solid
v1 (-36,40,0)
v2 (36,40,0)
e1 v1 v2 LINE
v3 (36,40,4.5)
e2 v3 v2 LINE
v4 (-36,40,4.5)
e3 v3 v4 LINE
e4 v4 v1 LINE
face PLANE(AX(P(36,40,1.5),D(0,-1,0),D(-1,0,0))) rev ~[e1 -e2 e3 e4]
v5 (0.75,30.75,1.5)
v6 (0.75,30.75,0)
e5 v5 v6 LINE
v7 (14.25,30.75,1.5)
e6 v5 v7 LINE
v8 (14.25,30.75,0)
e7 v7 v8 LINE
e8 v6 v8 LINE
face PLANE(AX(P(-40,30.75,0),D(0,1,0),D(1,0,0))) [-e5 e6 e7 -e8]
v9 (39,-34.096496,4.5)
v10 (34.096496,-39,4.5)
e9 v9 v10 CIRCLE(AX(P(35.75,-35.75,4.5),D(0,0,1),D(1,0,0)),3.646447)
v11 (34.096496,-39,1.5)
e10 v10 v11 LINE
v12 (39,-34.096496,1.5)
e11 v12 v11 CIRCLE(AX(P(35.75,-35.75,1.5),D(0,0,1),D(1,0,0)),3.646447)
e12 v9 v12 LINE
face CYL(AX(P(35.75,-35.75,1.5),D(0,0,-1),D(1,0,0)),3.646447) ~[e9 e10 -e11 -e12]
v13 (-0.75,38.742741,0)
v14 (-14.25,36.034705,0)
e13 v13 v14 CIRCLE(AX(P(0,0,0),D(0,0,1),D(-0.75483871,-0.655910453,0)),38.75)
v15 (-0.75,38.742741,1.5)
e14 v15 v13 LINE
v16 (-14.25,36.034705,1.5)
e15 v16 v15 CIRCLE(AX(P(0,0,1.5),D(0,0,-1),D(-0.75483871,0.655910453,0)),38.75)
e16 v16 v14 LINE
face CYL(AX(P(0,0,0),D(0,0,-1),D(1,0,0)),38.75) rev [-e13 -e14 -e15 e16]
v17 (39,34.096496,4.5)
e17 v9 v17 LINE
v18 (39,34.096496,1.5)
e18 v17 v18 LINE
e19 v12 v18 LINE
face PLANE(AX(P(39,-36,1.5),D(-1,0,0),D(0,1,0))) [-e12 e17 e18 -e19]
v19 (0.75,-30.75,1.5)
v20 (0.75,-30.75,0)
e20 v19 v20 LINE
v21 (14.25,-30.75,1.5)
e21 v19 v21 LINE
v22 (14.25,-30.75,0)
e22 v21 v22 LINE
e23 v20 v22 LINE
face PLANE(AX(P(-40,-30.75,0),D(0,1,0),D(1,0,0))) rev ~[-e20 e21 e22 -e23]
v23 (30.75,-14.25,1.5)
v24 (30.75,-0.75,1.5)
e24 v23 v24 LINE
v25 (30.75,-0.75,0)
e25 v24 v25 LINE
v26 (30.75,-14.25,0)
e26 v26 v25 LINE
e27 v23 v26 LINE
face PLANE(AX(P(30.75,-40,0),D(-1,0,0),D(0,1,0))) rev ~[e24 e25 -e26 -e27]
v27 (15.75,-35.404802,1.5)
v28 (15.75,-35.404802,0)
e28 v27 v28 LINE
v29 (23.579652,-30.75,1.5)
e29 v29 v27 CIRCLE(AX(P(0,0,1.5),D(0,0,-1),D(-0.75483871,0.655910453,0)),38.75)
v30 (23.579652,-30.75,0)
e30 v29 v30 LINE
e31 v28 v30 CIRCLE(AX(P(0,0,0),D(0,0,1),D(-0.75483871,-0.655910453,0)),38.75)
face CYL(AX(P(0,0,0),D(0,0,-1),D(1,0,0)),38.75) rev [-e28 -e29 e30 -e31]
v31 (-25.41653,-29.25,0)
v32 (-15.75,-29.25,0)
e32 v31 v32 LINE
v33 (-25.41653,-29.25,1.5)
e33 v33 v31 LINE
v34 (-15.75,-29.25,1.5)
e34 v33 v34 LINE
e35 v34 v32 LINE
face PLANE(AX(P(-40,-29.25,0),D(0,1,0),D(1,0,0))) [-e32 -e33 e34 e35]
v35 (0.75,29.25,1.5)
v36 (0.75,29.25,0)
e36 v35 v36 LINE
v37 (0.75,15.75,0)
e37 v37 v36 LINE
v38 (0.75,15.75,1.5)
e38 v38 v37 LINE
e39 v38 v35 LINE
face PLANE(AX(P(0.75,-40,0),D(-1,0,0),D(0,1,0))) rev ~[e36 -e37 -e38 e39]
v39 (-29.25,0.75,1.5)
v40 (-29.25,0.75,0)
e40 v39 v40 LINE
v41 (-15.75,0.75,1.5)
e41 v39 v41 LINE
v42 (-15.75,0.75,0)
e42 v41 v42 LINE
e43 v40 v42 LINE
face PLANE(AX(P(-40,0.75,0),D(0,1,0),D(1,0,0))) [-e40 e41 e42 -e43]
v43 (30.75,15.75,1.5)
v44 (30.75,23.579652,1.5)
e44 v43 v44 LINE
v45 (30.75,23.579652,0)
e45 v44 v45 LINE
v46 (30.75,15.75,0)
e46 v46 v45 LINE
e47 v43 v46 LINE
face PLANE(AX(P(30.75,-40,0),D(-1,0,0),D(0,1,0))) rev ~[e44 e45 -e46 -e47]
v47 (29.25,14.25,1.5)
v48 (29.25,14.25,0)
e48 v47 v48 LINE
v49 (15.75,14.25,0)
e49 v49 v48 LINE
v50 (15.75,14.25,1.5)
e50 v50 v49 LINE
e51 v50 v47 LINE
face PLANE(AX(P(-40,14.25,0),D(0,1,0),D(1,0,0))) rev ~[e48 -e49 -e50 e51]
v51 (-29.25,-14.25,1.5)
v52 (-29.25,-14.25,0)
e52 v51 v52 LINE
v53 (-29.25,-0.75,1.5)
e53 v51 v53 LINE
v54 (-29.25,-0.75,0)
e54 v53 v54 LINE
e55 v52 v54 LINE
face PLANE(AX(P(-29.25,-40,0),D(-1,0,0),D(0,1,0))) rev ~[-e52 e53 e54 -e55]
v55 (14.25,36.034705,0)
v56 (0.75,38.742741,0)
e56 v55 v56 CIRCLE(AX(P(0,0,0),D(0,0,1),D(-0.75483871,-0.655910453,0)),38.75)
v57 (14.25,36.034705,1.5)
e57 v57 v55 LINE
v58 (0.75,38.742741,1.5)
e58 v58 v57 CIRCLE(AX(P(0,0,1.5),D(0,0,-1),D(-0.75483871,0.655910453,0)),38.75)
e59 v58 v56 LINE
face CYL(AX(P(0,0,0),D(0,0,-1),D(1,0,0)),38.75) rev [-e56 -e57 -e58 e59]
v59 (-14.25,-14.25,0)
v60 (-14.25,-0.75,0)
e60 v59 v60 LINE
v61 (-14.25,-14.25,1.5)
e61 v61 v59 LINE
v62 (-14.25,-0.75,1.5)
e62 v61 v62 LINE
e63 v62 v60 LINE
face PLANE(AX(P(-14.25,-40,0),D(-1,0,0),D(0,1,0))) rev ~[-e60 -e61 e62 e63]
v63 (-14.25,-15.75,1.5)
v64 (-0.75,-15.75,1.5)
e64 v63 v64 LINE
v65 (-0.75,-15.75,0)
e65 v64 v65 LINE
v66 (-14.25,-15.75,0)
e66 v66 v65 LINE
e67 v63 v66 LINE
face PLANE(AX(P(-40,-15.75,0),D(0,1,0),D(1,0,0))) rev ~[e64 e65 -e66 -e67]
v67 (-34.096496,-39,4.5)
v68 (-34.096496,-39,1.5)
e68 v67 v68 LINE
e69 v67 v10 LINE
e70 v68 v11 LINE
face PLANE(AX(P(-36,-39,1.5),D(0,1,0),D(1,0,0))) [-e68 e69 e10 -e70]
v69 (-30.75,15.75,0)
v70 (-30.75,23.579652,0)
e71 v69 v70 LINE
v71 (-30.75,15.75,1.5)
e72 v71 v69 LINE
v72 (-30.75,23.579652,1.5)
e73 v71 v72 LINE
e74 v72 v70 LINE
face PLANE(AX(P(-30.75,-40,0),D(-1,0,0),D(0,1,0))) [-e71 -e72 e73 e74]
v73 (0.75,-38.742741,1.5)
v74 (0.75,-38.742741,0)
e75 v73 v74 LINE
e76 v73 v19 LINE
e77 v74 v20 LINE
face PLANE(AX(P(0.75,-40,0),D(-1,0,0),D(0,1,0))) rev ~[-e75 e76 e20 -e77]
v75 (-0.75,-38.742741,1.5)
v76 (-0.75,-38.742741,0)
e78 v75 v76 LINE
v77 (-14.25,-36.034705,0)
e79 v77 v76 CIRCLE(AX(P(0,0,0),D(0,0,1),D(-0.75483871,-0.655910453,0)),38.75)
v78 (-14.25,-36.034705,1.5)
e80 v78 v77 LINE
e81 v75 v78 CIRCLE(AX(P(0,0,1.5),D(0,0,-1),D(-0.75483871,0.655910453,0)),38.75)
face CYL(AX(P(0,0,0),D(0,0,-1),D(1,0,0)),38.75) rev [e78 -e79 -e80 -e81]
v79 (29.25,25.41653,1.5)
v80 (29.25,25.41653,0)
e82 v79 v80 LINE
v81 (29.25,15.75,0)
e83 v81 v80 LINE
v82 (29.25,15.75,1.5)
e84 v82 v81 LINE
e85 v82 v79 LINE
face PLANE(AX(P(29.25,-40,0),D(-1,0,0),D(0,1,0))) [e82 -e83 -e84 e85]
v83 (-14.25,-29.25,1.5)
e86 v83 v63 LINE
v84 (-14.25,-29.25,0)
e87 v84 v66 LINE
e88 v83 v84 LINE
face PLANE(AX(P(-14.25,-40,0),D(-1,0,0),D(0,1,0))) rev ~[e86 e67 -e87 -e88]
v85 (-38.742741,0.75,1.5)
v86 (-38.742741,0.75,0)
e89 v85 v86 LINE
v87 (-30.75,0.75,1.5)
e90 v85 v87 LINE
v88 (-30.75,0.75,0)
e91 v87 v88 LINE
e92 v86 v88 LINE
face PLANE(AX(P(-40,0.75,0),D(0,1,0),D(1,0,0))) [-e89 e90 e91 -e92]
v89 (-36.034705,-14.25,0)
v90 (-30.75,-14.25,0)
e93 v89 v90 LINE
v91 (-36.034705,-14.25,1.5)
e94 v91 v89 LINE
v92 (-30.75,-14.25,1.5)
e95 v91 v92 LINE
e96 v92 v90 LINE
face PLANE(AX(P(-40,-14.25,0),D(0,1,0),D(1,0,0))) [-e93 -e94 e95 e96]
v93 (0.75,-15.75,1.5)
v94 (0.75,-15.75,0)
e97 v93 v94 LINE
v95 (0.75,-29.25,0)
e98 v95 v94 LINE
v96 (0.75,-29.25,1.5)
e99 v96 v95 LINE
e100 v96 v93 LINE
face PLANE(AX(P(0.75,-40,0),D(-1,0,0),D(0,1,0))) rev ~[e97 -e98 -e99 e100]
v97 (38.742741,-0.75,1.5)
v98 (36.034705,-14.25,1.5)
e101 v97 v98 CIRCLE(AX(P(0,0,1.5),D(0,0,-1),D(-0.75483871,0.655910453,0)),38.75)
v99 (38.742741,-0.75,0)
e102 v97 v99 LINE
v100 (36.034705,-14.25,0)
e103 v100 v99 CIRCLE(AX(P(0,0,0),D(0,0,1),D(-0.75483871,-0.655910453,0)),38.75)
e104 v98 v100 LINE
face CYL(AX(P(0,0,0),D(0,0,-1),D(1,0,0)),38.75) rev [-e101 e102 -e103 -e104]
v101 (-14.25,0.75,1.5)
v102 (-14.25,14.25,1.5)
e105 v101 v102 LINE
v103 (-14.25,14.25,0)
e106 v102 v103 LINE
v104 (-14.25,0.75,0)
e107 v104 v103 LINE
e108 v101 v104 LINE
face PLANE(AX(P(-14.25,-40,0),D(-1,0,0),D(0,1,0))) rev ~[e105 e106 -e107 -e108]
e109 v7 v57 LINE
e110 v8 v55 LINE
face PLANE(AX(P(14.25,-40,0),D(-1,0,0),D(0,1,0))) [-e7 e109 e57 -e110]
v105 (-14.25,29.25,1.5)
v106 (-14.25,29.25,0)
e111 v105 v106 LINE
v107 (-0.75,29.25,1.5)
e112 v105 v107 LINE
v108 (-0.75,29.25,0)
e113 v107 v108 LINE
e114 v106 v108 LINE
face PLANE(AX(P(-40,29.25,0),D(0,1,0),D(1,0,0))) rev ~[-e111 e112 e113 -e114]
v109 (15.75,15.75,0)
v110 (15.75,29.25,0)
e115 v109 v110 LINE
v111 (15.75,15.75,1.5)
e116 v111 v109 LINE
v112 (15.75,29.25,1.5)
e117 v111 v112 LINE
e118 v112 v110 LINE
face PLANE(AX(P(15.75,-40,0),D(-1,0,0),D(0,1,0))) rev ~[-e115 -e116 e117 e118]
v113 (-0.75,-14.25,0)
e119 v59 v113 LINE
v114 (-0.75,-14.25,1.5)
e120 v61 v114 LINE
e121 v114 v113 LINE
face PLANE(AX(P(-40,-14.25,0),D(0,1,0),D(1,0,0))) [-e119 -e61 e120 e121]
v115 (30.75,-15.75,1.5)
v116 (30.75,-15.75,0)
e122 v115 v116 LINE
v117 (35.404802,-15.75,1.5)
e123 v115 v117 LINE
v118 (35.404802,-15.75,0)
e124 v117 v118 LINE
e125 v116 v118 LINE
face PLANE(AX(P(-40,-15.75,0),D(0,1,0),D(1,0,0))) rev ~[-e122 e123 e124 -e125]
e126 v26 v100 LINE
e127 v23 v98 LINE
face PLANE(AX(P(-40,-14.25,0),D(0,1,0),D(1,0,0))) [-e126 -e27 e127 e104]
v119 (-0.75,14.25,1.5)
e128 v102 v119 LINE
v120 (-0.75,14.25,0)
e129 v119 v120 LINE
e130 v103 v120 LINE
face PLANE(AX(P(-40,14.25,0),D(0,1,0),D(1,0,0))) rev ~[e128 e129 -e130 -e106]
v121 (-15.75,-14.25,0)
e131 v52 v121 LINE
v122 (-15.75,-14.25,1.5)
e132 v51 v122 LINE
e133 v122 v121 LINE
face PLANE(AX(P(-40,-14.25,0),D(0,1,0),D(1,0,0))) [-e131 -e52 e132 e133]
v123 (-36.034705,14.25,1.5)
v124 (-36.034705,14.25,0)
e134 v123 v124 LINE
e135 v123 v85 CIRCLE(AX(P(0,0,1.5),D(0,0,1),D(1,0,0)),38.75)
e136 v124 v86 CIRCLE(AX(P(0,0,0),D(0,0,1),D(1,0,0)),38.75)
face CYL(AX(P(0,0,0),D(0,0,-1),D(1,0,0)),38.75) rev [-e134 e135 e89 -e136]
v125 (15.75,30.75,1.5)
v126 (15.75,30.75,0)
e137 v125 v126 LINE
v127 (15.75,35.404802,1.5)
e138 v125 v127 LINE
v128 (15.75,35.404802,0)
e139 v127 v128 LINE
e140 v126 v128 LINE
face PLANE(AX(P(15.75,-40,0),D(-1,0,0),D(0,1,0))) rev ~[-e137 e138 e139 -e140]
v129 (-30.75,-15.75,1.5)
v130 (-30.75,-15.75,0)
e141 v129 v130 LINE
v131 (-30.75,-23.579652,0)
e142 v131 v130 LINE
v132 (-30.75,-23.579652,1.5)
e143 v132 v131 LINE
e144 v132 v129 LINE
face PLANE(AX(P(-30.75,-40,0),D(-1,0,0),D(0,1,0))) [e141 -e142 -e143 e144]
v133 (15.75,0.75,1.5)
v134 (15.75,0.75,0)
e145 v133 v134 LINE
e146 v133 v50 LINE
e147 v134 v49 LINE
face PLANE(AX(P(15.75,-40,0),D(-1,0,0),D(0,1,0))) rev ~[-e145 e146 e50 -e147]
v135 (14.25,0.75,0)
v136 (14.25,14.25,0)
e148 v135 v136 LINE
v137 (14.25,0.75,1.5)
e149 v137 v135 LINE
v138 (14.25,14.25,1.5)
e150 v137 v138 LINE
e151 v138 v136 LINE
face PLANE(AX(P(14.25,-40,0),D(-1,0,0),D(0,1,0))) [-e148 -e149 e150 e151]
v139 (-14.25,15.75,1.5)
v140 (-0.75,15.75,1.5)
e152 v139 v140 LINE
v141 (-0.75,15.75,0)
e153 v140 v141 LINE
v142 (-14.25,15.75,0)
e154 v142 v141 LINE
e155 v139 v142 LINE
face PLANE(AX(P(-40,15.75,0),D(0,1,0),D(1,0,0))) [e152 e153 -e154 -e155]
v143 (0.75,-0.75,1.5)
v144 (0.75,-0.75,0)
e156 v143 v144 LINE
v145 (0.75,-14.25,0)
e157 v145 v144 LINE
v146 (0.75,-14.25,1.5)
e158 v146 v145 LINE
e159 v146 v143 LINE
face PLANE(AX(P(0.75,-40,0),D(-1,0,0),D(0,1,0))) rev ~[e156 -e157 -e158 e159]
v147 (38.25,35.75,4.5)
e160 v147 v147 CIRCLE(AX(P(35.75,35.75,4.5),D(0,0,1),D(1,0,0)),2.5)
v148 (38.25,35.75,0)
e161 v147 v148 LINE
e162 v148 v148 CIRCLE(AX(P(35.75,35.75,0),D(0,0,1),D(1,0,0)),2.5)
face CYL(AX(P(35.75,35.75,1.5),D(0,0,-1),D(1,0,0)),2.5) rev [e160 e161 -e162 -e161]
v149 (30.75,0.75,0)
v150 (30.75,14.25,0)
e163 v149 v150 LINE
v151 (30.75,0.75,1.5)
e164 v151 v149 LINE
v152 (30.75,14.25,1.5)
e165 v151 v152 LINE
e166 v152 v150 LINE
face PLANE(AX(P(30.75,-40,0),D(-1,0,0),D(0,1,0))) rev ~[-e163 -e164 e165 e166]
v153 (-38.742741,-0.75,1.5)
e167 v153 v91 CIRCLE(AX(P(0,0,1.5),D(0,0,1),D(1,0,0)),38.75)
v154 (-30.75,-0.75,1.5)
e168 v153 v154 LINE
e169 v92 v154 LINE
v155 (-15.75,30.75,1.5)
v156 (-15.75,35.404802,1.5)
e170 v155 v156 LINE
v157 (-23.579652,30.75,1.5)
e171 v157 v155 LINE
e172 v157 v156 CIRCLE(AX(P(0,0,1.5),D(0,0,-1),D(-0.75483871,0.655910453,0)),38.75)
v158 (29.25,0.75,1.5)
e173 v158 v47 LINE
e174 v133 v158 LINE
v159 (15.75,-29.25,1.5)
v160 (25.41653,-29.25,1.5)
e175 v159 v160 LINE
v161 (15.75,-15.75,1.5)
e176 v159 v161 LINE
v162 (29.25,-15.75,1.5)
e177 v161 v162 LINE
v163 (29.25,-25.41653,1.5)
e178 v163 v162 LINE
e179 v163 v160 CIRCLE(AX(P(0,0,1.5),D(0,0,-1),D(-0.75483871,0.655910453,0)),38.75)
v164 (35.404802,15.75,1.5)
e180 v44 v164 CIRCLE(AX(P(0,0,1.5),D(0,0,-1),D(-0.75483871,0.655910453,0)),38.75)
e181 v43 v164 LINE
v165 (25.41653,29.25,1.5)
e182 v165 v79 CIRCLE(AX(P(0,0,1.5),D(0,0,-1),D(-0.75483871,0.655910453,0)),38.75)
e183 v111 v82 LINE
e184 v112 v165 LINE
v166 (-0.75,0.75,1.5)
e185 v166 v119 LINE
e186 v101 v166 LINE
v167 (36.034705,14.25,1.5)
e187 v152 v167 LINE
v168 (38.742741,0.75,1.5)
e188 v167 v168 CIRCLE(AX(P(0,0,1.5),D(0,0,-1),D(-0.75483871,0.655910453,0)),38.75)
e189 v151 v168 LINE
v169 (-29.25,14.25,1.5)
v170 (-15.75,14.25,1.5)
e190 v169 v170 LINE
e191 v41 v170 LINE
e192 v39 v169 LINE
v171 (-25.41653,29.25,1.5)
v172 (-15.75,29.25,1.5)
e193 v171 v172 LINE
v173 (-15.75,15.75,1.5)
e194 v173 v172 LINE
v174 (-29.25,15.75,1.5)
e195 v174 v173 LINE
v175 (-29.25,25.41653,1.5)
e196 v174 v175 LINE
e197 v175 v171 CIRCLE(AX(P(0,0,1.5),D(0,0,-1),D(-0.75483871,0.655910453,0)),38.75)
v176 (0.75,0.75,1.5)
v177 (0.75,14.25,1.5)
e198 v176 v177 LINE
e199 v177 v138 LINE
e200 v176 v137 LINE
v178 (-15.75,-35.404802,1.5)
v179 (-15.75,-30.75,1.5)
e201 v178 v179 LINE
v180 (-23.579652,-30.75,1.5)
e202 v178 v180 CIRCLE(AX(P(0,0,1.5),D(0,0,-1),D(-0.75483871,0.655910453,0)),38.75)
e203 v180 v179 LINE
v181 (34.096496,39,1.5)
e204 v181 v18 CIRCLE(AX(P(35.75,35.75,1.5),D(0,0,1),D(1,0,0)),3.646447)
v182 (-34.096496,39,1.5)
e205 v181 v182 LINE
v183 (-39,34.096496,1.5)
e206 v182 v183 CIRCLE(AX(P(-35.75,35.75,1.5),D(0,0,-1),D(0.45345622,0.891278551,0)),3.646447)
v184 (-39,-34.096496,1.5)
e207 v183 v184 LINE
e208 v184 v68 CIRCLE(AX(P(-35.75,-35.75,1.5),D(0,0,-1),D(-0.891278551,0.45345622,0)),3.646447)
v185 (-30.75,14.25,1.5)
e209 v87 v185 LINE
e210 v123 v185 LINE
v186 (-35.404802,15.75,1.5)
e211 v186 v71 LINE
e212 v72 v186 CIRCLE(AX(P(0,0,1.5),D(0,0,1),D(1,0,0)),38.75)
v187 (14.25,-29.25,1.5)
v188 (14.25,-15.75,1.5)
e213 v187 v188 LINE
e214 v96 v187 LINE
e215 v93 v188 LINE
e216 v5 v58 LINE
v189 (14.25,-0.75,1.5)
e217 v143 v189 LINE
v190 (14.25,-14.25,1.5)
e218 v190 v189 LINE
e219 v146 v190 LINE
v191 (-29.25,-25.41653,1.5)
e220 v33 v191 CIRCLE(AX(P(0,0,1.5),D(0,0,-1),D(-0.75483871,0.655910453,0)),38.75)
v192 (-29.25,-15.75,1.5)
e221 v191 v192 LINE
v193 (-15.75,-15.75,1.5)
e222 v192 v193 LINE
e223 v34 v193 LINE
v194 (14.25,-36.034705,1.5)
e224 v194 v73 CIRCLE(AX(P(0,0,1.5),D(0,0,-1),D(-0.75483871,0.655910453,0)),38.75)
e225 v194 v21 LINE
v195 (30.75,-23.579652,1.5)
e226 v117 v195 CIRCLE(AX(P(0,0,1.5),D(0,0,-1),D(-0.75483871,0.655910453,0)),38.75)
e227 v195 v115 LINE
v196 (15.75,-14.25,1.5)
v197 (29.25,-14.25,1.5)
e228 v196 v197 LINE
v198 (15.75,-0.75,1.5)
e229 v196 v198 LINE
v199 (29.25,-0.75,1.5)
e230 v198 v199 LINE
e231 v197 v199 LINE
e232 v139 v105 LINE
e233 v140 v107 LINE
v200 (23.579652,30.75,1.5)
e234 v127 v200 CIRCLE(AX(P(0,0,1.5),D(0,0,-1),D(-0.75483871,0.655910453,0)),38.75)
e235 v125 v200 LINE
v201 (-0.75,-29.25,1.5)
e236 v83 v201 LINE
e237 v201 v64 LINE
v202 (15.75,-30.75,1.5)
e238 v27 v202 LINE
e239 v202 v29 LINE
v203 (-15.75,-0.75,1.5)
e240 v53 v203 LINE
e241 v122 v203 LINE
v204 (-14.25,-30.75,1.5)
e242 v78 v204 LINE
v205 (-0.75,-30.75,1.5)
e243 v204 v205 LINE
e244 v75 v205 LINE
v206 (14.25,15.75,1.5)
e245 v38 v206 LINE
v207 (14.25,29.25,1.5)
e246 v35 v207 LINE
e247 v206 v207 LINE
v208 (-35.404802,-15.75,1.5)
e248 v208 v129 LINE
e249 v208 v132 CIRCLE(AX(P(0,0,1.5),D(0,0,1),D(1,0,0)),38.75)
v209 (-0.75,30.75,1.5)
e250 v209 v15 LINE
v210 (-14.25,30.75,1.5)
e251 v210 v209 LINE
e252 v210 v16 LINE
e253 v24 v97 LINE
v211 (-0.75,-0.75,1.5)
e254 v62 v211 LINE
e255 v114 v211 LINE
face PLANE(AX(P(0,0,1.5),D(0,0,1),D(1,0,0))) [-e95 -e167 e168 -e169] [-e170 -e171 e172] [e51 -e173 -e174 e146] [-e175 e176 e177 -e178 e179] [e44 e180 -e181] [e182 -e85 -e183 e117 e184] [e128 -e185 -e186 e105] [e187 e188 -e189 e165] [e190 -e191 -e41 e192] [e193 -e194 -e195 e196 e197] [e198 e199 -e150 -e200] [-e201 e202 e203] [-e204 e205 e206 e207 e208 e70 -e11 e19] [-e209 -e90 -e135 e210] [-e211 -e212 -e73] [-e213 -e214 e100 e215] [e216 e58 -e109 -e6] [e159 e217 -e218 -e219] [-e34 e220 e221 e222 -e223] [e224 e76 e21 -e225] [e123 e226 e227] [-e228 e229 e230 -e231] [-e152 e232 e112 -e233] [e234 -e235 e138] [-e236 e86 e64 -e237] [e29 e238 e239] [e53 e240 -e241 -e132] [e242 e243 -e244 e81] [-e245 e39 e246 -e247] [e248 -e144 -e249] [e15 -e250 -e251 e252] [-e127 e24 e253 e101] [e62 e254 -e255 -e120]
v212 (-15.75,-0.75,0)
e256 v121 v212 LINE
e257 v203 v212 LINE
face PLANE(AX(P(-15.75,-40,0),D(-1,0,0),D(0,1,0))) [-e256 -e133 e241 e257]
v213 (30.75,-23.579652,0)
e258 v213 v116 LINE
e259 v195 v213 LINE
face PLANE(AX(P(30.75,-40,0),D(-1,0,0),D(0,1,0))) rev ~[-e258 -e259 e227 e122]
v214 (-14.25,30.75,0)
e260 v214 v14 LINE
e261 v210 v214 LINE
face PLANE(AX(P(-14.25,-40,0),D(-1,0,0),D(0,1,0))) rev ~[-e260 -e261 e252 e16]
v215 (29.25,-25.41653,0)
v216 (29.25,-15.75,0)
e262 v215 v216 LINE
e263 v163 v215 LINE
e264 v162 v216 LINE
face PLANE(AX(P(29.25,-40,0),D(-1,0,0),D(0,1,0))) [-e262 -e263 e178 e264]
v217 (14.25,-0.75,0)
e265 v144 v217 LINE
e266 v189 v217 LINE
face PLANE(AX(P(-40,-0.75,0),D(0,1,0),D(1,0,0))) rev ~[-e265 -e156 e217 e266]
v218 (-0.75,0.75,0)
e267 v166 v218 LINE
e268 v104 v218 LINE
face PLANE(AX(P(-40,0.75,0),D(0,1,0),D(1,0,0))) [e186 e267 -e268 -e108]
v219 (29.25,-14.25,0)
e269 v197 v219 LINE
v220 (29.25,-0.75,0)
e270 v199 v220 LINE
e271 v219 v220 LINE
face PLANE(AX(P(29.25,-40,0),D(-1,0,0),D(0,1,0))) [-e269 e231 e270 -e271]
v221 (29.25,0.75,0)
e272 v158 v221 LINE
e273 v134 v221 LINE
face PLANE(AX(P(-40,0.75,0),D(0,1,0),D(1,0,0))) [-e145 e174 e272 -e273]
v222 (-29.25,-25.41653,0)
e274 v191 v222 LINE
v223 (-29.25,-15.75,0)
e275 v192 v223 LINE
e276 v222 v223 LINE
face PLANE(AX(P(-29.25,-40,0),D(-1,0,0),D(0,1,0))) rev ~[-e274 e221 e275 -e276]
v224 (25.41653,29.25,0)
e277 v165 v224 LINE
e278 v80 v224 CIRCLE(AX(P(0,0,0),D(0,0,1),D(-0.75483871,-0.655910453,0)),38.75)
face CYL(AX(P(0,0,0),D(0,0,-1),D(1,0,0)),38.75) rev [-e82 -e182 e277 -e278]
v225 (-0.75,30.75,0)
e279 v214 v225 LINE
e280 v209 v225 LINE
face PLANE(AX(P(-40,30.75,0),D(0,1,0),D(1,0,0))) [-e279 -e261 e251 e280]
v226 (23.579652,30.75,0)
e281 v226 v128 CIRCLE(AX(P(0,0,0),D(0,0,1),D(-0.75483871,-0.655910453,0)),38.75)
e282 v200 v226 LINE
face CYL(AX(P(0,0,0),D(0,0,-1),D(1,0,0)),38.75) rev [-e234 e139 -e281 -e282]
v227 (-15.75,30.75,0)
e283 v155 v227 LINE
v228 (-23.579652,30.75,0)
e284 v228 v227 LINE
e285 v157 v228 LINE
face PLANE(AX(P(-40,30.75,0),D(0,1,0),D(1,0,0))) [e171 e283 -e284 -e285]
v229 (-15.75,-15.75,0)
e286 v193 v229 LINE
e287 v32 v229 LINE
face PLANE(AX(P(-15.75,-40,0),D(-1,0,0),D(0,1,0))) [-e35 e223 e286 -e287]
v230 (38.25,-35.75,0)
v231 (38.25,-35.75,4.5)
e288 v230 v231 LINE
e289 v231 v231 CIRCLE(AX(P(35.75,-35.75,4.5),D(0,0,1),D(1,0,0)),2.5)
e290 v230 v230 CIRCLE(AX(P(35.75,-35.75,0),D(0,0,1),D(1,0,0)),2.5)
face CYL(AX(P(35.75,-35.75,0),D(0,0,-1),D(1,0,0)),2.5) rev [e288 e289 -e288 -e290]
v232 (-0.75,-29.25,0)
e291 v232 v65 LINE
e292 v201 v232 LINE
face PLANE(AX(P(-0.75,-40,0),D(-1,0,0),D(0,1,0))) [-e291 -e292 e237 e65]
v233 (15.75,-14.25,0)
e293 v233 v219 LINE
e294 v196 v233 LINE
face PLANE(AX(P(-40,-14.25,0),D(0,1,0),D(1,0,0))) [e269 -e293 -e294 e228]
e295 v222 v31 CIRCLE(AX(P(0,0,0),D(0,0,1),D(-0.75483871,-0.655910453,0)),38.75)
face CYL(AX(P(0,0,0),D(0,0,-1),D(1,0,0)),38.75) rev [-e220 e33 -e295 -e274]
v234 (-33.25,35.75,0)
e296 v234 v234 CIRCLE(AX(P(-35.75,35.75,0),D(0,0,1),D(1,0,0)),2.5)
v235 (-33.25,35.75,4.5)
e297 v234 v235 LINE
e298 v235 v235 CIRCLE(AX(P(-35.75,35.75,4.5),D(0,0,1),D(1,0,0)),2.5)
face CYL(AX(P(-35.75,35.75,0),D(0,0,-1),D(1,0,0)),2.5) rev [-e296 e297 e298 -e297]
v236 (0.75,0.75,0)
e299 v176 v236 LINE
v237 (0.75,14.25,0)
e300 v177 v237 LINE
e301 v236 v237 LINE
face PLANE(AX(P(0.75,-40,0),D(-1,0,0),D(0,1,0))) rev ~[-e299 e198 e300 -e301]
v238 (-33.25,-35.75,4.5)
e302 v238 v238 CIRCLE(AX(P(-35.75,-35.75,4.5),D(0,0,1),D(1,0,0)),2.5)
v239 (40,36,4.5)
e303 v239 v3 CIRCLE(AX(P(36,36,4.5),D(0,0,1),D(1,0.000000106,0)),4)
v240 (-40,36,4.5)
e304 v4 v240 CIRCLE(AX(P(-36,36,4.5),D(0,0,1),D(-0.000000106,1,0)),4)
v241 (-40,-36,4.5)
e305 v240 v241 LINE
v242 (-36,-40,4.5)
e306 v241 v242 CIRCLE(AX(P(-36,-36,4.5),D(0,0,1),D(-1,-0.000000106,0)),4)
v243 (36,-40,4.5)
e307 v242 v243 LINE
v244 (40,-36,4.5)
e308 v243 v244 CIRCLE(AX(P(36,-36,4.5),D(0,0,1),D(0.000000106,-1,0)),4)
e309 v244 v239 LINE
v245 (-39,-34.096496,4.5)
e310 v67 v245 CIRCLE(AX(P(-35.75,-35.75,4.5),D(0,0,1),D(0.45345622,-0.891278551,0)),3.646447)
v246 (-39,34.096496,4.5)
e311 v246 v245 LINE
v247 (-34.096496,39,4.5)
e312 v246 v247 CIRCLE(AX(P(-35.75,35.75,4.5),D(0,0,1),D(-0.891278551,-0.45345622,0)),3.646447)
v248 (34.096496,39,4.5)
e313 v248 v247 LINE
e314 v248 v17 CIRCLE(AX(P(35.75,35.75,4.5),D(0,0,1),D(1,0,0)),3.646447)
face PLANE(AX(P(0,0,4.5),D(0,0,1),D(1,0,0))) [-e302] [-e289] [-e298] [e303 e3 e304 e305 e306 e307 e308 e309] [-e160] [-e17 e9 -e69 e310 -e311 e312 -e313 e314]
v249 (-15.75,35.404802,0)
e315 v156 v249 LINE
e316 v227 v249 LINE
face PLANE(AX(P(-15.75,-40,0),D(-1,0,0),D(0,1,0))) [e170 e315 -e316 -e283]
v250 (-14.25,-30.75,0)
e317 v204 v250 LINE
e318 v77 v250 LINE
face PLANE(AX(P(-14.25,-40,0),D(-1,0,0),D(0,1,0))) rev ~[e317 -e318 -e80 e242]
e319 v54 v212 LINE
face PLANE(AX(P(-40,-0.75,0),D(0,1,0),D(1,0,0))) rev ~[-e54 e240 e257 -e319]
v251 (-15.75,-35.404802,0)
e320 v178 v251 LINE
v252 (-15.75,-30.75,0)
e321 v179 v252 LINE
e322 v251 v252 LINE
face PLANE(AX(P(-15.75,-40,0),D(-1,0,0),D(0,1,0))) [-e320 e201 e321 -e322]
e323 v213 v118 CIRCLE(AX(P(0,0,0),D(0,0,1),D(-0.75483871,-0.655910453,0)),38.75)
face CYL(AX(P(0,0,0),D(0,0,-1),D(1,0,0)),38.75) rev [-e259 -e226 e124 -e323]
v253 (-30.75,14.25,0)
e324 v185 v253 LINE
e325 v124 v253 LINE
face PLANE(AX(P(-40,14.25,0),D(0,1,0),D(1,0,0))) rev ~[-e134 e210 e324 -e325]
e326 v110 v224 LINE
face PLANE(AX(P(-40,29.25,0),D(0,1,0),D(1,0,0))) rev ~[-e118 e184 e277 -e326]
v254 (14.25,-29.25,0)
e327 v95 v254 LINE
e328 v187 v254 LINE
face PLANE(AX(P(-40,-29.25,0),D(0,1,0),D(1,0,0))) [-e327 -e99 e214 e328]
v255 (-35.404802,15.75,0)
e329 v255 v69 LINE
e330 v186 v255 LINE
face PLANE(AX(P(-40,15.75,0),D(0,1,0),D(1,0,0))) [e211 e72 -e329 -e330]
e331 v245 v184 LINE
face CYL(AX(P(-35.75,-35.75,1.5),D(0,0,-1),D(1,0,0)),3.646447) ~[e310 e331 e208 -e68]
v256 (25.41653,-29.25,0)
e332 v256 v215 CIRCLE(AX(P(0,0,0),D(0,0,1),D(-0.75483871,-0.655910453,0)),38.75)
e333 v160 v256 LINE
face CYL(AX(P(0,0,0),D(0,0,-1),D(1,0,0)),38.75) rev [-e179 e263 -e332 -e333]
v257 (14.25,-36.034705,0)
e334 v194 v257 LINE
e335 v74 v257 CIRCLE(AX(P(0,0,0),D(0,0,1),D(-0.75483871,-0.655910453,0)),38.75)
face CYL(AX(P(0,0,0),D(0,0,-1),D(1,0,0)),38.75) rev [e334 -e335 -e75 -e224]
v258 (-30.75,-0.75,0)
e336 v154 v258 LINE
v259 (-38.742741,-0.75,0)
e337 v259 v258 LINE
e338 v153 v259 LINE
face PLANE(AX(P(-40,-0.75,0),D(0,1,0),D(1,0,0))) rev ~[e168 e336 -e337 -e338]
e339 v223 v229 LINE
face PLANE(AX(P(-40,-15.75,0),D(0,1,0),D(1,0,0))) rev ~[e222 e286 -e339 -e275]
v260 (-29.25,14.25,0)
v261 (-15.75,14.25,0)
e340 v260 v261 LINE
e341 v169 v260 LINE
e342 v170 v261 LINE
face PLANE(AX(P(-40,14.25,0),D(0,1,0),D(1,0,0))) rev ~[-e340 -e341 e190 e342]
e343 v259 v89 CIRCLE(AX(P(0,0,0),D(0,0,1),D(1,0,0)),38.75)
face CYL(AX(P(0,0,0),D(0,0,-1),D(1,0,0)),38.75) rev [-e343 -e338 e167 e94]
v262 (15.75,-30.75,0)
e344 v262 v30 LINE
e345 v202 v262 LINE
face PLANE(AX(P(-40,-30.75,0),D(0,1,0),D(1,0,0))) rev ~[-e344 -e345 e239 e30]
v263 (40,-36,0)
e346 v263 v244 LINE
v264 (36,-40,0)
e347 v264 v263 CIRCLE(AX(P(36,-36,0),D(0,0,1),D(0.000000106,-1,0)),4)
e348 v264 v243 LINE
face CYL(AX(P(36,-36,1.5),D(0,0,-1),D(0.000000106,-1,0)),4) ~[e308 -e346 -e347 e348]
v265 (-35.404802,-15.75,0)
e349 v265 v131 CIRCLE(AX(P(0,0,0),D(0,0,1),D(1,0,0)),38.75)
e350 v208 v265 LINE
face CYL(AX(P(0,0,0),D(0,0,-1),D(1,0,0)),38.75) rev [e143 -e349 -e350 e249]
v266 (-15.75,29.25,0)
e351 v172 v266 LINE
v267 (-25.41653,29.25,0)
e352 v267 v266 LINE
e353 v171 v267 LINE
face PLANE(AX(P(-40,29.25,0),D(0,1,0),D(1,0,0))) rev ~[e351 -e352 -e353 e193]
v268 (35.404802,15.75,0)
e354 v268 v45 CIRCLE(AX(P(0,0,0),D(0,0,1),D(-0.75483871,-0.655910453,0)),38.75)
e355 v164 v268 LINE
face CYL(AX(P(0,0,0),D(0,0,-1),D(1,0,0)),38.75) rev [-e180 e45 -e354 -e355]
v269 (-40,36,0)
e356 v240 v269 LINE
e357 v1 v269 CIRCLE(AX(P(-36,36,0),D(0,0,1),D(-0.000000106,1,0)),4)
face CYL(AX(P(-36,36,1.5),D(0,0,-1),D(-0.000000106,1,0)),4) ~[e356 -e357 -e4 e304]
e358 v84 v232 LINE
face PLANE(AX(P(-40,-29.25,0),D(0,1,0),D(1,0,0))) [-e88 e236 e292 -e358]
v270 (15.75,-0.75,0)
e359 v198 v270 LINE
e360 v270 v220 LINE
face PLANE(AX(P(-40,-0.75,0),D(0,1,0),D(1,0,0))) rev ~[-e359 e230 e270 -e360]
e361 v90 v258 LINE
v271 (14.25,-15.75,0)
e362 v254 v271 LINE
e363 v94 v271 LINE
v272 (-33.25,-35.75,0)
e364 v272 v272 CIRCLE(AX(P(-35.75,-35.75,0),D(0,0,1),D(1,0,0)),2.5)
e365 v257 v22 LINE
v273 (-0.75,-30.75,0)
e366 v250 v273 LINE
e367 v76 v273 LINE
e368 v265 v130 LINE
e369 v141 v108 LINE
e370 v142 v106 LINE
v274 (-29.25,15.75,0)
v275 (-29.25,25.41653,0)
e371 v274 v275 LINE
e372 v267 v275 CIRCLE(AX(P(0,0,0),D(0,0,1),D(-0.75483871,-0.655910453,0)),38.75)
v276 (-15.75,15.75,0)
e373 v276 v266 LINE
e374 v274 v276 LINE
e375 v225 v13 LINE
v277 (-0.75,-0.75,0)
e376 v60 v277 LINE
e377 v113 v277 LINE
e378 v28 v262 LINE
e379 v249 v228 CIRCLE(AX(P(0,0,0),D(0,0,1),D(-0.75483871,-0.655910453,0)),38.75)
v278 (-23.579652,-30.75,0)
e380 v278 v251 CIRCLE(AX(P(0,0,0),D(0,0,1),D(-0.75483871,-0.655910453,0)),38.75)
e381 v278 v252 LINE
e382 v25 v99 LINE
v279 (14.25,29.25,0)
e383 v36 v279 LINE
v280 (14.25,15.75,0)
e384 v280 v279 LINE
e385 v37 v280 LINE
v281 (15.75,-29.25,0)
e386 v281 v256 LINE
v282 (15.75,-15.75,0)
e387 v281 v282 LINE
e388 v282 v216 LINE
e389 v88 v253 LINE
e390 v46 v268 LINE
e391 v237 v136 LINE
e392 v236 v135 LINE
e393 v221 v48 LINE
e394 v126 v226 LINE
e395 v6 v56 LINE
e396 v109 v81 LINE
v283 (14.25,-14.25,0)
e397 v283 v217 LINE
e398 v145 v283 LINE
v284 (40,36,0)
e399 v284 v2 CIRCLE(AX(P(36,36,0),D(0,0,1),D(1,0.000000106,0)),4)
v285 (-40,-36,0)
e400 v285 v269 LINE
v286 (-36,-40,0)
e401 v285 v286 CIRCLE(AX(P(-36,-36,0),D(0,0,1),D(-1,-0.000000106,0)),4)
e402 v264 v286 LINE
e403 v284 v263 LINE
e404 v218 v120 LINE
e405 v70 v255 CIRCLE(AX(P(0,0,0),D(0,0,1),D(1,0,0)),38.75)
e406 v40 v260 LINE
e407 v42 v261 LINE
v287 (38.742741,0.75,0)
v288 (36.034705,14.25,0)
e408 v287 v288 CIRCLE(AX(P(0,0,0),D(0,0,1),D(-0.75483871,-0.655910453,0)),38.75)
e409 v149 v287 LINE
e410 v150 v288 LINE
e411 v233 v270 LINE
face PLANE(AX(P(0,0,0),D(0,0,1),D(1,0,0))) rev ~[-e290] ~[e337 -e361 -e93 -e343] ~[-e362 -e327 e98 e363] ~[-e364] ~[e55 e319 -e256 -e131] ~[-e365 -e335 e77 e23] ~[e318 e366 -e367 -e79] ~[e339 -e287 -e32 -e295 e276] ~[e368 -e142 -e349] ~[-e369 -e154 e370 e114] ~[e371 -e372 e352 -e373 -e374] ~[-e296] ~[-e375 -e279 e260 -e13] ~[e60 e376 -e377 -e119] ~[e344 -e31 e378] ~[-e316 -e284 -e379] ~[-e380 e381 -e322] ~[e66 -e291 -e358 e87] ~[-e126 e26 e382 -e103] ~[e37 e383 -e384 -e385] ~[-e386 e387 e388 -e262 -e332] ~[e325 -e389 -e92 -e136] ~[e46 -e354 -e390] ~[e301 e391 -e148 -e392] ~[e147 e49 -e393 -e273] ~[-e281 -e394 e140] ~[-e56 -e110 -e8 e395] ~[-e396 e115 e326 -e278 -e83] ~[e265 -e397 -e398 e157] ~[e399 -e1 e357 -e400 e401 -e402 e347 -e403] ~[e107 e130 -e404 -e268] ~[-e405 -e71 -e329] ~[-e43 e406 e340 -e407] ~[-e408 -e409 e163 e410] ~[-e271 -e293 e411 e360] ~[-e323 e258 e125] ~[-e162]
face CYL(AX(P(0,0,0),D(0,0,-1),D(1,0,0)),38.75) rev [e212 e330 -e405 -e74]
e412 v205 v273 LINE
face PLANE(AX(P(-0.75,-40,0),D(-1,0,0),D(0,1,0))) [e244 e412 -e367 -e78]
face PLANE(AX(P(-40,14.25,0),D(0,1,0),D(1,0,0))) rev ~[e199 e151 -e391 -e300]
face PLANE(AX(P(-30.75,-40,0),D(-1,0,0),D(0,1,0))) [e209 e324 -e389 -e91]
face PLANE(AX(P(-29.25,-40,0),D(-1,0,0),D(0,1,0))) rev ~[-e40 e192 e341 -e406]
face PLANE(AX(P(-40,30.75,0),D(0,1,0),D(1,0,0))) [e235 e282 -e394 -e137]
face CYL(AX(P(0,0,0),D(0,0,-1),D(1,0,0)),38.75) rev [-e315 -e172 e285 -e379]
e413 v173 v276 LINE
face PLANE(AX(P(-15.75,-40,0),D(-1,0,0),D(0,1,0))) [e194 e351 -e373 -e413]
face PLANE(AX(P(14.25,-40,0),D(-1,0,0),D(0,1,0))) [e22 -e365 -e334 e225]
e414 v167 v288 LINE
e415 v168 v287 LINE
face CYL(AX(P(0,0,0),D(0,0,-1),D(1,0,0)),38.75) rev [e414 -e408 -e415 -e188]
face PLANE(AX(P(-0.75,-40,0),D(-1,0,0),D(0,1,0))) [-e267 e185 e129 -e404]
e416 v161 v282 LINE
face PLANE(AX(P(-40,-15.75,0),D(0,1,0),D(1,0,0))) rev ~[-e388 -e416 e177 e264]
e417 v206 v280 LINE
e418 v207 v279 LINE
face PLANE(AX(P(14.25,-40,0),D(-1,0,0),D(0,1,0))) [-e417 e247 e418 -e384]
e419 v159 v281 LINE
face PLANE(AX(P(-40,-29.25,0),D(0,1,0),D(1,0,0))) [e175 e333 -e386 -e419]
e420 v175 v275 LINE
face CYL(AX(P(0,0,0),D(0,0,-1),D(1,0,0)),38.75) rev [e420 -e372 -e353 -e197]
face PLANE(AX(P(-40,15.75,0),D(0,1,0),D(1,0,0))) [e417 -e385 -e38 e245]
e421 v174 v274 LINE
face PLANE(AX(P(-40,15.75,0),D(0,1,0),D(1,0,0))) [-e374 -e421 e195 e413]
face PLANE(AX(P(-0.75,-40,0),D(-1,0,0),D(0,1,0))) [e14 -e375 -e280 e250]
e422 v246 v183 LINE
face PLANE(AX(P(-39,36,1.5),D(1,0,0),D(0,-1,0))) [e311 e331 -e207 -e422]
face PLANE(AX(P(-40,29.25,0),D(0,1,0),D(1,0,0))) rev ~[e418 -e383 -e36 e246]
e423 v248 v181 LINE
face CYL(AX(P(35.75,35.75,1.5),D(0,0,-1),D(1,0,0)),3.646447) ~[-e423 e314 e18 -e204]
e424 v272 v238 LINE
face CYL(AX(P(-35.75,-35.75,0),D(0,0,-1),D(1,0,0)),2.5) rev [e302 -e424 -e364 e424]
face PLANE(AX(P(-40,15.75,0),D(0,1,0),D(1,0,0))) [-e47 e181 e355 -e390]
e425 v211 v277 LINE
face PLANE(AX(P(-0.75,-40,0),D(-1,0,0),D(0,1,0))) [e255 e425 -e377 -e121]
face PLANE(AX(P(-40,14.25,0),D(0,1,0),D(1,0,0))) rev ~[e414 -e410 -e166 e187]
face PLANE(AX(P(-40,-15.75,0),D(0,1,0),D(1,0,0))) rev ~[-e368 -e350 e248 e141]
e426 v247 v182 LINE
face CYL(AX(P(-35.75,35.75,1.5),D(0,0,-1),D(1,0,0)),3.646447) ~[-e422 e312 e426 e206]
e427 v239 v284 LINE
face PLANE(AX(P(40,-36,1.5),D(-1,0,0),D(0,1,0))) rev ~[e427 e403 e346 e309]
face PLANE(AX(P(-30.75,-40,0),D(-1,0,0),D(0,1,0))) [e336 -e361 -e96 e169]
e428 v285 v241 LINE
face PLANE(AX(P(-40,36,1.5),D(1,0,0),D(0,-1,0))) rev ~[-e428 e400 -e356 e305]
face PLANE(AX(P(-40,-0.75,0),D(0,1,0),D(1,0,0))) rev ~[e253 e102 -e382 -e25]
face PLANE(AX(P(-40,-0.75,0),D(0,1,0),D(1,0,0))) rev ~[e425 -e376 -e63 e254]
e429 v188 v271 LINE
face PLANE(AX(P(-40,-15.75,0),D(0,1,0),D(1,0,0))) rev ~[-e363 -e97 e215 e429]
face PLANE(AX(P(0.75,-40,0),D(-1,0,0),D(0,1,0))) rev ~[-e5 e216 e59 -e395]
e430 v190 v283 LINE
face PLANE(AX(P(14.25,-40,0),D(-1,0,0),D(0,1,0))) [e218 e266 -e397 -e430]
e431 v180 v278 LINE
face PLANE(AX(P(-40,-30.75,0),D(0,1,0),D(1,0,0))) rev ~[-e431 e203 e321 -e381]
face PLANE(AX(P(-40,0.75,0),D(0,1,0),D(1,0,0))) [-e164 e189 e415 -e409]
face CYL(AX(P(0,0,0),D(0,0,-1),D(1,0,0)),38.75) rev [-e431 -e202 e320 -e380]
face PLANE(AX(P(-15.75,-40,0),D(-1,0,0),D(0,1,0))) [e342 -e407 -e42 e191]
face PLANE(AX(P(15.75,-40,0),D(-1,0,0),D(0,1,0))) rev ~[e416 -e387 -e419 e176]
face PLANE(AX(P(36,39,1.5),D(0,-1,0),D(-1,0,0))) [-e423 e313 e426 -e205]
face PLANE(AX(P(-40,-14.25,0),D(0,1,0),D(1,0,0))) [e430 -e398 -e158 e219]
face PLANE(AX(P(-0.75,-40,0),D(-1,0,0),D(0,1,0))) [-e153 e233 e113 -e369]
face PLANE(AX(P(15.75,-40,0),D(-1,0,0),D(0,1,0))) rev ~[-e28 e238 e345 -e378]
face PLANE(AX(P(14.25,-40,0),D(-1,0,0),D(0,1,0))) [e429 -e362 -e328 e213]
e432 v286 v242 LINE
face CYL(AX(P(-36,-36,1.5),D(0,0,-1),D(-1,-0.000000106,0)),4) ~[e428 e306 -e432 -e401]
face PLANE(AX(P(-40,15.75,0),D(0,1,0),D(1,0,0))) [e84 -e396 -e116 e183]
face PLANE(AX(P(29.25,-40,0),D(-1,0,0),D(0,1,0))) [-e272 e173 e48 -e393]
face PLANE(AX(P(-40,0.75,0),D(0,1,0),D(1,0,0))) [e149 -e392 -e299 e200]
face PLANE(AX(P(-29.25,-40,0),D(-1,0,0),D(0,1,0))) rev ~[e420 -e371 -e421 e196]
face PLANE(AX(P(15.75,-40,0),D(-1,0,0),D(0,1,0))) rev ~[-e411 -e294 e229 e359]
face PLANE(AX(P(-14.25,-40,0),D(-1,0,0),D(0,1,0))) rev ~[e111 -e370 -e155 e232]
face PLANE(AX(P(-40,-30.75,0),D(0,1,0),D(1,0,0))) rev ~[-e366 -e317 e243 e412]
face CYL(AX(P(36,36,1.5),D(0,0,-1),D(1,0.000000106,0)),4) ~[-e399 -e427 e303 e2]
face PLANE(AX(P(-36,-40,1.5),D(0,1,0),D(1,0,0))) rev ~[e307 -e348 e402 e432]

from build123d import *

# Parameters (mm, degrees)
SKETCH006_R            = 2.5
SKETCH006_R_2          = 38.75
PAD004_DEPTH           = 1.5
SKETCH007_W            = 1.5
SKETCH007_H            = 80
PAD005_DEPTH           = 1.5
LINEARPATTERN002_COUNT = 5
LINEARPATTERN002_PITCH = 15
SKETCH008_W            = 80
SKETCH008_H            = 1.5
PAD006_DEPTH           = 1.5
LINEARPATTERN003_COUNT = 5
LINEARPATTERN003_PITCH = 15
PAD007_DEPTH           = 3
SKETCH033_R            = 3.646447
SKETCH033_R_2          = 2.5
PAD017_DEPTH           = 3


with BuildPart() as part:
    # Sketch006 → Pad004 (new body)
    with BuildSketch(Plane.XY):
        with BuildLine():
            Line((40, -36), (40, 36))
            ThreePointArc((40, 36), (38.828427, 38.828427), (36, 40))
            Line((36, 40), (-36, 40))
            ThreePointArc((-36, 40), (-38.828427, 38.828427), (-40, 36))
            Line((-40, 36), (-40, -36))
            ThreePointArc((-40, -36), (-38.828427, -38.828427), (-36, -40))
            Line((-36, -40), (36, -40))
            ThreePointArc((36, -40), (38.828427, -38.828427), (40, -36))
        make_face()
        with Locations((-35.75, 35.75)):
            Circle(SKETCH006_R, mode=Mode.SUBTRACT)
        with Locations((35.75, 35.75)):
            Circle(SKETCH006_R, mode=Mode.SUBTRACT)
        with Locations((35.75, -35.75)):
            Circle(SKETCH006_R, mode=Mode.SUBTRACT)
        with Locations((-35.75, -35.75)):
            Circle(SKETCH006_R, mode=Mode.SUBTRACT)
        Circle(SKETCH006_R_2, mode=Mode.SUBTRACT)
    extrude(amount=PAD004_DEPTH)

    # Sketch007 → Pad005 (join)
    with BuildSketch(Plane.XY):
        with Locations((-30, 0)):
            Rectangle(SKETCH007_W, SKETCH007_H)
    pad005 = extrude(amount=PAD005_DEPTH)

    # LinearPattern002: Pad005 ×5
    with Locations(*[(i * LINEARPATTERN002_PITCH, 0, 0) for i in range(1, LINEARPATTERN002_COUNT)]):
        add(pad005)

    # Sketch008 → Pad006 (join)
    with BuildSketch(Plane.XY):
        with Locations((0, -30)):
            Rectangle(SKETCH008_W, SKETCH008_H)
    pad006 = extrude(amount=PAD006_DEPTH)

    # LinearPattern003: Pad006 ×5
    with Locations(*[(0, i * LINEARPATTERN003_PITCH, 0) for i in range(1, LINEARPATTERN003_COUNT)]):
        add(pad006)

    # Sketch009 (on Face137 of LinearPattern003) → Pad007 (join)
    with BuildSketch(Plane.XY.offset(1.5)):
        with BuildLine():
            Line((-40, 36), (-40, -36))
            ThreePointArc((-40, -36), (-38.828427, -38.828427), (-36, -40))
            Line((-36, -40), (36, -40))
            ThreePointArc((36, -40), (38.828427, -38.828427), (40, -36))
            Line((40, -36), (40, 36))
            ThreePointArc((40, 36), (38.828427, 38.828427), (36, 40))
            Line((36, 40), (-36, 40))
            ThreePointArc((-36, 40), (-38.828427, 38.828427), (-40, 36))
        make_face()
        with BuildLine():
            Line((-39, 36), (-39, -36))
            ThreePointArc((-39, -36), (-38.12132, -38.12132), (-36, -39))
            Line((-36, -39), (36, -39))
            ThreePointArc((36, -39), (38.12132, -38.12132), (39, -36))
            Line((39, -36), (39, 36))
            ThreePointArc((39, 36), (38.12132, 38.12132), (36, 39))
            Line((36, 39), (-36, 39))
            ThreePointArc((-36, 39), (-38.12132, 38.12132), (-39, 36))
        make_face(mode=Mode.SUBTRACT)
    extrude(amount=PAD007_DEPTH)

    # Sketch033 (on Face130 of Pad007) → Pad017 (join)
    with BuildSketch(Plane.XY.offset(1.5)):
        with Locations((35.75, 35.75)):
            Circle(SKETCH033_R)
        with Locations((35.75, 35.75)):
            Circle(SKETCH033_R_2, mode=Mode.SUBTRACT)
        with Locations((-35.75, 35.75)):
            Circle(SKETCH033_R)
        with Locations((-35.75, 35.75)):
            Circle(SKETCH033_R_2, mode=Mode.SUBTRACT)
        with Locations((-35.75, -35.75)):
            Circle(SKETCH033_R)
        with Locations((-35.75, -35.75)):
            Circle(SKETCH033_R_2, mode=Mode.SUBTRACT)
        with Locations((35.75, -35.75)):
            Circle(SKETCH033_R)
        with Locations((35.75, -35.75)):
            Circle(SKETCH033_R_2, mode=Mode.SUBTRACT)
    extrude(amount=PAD017_DEPTH)


solid = part.part
